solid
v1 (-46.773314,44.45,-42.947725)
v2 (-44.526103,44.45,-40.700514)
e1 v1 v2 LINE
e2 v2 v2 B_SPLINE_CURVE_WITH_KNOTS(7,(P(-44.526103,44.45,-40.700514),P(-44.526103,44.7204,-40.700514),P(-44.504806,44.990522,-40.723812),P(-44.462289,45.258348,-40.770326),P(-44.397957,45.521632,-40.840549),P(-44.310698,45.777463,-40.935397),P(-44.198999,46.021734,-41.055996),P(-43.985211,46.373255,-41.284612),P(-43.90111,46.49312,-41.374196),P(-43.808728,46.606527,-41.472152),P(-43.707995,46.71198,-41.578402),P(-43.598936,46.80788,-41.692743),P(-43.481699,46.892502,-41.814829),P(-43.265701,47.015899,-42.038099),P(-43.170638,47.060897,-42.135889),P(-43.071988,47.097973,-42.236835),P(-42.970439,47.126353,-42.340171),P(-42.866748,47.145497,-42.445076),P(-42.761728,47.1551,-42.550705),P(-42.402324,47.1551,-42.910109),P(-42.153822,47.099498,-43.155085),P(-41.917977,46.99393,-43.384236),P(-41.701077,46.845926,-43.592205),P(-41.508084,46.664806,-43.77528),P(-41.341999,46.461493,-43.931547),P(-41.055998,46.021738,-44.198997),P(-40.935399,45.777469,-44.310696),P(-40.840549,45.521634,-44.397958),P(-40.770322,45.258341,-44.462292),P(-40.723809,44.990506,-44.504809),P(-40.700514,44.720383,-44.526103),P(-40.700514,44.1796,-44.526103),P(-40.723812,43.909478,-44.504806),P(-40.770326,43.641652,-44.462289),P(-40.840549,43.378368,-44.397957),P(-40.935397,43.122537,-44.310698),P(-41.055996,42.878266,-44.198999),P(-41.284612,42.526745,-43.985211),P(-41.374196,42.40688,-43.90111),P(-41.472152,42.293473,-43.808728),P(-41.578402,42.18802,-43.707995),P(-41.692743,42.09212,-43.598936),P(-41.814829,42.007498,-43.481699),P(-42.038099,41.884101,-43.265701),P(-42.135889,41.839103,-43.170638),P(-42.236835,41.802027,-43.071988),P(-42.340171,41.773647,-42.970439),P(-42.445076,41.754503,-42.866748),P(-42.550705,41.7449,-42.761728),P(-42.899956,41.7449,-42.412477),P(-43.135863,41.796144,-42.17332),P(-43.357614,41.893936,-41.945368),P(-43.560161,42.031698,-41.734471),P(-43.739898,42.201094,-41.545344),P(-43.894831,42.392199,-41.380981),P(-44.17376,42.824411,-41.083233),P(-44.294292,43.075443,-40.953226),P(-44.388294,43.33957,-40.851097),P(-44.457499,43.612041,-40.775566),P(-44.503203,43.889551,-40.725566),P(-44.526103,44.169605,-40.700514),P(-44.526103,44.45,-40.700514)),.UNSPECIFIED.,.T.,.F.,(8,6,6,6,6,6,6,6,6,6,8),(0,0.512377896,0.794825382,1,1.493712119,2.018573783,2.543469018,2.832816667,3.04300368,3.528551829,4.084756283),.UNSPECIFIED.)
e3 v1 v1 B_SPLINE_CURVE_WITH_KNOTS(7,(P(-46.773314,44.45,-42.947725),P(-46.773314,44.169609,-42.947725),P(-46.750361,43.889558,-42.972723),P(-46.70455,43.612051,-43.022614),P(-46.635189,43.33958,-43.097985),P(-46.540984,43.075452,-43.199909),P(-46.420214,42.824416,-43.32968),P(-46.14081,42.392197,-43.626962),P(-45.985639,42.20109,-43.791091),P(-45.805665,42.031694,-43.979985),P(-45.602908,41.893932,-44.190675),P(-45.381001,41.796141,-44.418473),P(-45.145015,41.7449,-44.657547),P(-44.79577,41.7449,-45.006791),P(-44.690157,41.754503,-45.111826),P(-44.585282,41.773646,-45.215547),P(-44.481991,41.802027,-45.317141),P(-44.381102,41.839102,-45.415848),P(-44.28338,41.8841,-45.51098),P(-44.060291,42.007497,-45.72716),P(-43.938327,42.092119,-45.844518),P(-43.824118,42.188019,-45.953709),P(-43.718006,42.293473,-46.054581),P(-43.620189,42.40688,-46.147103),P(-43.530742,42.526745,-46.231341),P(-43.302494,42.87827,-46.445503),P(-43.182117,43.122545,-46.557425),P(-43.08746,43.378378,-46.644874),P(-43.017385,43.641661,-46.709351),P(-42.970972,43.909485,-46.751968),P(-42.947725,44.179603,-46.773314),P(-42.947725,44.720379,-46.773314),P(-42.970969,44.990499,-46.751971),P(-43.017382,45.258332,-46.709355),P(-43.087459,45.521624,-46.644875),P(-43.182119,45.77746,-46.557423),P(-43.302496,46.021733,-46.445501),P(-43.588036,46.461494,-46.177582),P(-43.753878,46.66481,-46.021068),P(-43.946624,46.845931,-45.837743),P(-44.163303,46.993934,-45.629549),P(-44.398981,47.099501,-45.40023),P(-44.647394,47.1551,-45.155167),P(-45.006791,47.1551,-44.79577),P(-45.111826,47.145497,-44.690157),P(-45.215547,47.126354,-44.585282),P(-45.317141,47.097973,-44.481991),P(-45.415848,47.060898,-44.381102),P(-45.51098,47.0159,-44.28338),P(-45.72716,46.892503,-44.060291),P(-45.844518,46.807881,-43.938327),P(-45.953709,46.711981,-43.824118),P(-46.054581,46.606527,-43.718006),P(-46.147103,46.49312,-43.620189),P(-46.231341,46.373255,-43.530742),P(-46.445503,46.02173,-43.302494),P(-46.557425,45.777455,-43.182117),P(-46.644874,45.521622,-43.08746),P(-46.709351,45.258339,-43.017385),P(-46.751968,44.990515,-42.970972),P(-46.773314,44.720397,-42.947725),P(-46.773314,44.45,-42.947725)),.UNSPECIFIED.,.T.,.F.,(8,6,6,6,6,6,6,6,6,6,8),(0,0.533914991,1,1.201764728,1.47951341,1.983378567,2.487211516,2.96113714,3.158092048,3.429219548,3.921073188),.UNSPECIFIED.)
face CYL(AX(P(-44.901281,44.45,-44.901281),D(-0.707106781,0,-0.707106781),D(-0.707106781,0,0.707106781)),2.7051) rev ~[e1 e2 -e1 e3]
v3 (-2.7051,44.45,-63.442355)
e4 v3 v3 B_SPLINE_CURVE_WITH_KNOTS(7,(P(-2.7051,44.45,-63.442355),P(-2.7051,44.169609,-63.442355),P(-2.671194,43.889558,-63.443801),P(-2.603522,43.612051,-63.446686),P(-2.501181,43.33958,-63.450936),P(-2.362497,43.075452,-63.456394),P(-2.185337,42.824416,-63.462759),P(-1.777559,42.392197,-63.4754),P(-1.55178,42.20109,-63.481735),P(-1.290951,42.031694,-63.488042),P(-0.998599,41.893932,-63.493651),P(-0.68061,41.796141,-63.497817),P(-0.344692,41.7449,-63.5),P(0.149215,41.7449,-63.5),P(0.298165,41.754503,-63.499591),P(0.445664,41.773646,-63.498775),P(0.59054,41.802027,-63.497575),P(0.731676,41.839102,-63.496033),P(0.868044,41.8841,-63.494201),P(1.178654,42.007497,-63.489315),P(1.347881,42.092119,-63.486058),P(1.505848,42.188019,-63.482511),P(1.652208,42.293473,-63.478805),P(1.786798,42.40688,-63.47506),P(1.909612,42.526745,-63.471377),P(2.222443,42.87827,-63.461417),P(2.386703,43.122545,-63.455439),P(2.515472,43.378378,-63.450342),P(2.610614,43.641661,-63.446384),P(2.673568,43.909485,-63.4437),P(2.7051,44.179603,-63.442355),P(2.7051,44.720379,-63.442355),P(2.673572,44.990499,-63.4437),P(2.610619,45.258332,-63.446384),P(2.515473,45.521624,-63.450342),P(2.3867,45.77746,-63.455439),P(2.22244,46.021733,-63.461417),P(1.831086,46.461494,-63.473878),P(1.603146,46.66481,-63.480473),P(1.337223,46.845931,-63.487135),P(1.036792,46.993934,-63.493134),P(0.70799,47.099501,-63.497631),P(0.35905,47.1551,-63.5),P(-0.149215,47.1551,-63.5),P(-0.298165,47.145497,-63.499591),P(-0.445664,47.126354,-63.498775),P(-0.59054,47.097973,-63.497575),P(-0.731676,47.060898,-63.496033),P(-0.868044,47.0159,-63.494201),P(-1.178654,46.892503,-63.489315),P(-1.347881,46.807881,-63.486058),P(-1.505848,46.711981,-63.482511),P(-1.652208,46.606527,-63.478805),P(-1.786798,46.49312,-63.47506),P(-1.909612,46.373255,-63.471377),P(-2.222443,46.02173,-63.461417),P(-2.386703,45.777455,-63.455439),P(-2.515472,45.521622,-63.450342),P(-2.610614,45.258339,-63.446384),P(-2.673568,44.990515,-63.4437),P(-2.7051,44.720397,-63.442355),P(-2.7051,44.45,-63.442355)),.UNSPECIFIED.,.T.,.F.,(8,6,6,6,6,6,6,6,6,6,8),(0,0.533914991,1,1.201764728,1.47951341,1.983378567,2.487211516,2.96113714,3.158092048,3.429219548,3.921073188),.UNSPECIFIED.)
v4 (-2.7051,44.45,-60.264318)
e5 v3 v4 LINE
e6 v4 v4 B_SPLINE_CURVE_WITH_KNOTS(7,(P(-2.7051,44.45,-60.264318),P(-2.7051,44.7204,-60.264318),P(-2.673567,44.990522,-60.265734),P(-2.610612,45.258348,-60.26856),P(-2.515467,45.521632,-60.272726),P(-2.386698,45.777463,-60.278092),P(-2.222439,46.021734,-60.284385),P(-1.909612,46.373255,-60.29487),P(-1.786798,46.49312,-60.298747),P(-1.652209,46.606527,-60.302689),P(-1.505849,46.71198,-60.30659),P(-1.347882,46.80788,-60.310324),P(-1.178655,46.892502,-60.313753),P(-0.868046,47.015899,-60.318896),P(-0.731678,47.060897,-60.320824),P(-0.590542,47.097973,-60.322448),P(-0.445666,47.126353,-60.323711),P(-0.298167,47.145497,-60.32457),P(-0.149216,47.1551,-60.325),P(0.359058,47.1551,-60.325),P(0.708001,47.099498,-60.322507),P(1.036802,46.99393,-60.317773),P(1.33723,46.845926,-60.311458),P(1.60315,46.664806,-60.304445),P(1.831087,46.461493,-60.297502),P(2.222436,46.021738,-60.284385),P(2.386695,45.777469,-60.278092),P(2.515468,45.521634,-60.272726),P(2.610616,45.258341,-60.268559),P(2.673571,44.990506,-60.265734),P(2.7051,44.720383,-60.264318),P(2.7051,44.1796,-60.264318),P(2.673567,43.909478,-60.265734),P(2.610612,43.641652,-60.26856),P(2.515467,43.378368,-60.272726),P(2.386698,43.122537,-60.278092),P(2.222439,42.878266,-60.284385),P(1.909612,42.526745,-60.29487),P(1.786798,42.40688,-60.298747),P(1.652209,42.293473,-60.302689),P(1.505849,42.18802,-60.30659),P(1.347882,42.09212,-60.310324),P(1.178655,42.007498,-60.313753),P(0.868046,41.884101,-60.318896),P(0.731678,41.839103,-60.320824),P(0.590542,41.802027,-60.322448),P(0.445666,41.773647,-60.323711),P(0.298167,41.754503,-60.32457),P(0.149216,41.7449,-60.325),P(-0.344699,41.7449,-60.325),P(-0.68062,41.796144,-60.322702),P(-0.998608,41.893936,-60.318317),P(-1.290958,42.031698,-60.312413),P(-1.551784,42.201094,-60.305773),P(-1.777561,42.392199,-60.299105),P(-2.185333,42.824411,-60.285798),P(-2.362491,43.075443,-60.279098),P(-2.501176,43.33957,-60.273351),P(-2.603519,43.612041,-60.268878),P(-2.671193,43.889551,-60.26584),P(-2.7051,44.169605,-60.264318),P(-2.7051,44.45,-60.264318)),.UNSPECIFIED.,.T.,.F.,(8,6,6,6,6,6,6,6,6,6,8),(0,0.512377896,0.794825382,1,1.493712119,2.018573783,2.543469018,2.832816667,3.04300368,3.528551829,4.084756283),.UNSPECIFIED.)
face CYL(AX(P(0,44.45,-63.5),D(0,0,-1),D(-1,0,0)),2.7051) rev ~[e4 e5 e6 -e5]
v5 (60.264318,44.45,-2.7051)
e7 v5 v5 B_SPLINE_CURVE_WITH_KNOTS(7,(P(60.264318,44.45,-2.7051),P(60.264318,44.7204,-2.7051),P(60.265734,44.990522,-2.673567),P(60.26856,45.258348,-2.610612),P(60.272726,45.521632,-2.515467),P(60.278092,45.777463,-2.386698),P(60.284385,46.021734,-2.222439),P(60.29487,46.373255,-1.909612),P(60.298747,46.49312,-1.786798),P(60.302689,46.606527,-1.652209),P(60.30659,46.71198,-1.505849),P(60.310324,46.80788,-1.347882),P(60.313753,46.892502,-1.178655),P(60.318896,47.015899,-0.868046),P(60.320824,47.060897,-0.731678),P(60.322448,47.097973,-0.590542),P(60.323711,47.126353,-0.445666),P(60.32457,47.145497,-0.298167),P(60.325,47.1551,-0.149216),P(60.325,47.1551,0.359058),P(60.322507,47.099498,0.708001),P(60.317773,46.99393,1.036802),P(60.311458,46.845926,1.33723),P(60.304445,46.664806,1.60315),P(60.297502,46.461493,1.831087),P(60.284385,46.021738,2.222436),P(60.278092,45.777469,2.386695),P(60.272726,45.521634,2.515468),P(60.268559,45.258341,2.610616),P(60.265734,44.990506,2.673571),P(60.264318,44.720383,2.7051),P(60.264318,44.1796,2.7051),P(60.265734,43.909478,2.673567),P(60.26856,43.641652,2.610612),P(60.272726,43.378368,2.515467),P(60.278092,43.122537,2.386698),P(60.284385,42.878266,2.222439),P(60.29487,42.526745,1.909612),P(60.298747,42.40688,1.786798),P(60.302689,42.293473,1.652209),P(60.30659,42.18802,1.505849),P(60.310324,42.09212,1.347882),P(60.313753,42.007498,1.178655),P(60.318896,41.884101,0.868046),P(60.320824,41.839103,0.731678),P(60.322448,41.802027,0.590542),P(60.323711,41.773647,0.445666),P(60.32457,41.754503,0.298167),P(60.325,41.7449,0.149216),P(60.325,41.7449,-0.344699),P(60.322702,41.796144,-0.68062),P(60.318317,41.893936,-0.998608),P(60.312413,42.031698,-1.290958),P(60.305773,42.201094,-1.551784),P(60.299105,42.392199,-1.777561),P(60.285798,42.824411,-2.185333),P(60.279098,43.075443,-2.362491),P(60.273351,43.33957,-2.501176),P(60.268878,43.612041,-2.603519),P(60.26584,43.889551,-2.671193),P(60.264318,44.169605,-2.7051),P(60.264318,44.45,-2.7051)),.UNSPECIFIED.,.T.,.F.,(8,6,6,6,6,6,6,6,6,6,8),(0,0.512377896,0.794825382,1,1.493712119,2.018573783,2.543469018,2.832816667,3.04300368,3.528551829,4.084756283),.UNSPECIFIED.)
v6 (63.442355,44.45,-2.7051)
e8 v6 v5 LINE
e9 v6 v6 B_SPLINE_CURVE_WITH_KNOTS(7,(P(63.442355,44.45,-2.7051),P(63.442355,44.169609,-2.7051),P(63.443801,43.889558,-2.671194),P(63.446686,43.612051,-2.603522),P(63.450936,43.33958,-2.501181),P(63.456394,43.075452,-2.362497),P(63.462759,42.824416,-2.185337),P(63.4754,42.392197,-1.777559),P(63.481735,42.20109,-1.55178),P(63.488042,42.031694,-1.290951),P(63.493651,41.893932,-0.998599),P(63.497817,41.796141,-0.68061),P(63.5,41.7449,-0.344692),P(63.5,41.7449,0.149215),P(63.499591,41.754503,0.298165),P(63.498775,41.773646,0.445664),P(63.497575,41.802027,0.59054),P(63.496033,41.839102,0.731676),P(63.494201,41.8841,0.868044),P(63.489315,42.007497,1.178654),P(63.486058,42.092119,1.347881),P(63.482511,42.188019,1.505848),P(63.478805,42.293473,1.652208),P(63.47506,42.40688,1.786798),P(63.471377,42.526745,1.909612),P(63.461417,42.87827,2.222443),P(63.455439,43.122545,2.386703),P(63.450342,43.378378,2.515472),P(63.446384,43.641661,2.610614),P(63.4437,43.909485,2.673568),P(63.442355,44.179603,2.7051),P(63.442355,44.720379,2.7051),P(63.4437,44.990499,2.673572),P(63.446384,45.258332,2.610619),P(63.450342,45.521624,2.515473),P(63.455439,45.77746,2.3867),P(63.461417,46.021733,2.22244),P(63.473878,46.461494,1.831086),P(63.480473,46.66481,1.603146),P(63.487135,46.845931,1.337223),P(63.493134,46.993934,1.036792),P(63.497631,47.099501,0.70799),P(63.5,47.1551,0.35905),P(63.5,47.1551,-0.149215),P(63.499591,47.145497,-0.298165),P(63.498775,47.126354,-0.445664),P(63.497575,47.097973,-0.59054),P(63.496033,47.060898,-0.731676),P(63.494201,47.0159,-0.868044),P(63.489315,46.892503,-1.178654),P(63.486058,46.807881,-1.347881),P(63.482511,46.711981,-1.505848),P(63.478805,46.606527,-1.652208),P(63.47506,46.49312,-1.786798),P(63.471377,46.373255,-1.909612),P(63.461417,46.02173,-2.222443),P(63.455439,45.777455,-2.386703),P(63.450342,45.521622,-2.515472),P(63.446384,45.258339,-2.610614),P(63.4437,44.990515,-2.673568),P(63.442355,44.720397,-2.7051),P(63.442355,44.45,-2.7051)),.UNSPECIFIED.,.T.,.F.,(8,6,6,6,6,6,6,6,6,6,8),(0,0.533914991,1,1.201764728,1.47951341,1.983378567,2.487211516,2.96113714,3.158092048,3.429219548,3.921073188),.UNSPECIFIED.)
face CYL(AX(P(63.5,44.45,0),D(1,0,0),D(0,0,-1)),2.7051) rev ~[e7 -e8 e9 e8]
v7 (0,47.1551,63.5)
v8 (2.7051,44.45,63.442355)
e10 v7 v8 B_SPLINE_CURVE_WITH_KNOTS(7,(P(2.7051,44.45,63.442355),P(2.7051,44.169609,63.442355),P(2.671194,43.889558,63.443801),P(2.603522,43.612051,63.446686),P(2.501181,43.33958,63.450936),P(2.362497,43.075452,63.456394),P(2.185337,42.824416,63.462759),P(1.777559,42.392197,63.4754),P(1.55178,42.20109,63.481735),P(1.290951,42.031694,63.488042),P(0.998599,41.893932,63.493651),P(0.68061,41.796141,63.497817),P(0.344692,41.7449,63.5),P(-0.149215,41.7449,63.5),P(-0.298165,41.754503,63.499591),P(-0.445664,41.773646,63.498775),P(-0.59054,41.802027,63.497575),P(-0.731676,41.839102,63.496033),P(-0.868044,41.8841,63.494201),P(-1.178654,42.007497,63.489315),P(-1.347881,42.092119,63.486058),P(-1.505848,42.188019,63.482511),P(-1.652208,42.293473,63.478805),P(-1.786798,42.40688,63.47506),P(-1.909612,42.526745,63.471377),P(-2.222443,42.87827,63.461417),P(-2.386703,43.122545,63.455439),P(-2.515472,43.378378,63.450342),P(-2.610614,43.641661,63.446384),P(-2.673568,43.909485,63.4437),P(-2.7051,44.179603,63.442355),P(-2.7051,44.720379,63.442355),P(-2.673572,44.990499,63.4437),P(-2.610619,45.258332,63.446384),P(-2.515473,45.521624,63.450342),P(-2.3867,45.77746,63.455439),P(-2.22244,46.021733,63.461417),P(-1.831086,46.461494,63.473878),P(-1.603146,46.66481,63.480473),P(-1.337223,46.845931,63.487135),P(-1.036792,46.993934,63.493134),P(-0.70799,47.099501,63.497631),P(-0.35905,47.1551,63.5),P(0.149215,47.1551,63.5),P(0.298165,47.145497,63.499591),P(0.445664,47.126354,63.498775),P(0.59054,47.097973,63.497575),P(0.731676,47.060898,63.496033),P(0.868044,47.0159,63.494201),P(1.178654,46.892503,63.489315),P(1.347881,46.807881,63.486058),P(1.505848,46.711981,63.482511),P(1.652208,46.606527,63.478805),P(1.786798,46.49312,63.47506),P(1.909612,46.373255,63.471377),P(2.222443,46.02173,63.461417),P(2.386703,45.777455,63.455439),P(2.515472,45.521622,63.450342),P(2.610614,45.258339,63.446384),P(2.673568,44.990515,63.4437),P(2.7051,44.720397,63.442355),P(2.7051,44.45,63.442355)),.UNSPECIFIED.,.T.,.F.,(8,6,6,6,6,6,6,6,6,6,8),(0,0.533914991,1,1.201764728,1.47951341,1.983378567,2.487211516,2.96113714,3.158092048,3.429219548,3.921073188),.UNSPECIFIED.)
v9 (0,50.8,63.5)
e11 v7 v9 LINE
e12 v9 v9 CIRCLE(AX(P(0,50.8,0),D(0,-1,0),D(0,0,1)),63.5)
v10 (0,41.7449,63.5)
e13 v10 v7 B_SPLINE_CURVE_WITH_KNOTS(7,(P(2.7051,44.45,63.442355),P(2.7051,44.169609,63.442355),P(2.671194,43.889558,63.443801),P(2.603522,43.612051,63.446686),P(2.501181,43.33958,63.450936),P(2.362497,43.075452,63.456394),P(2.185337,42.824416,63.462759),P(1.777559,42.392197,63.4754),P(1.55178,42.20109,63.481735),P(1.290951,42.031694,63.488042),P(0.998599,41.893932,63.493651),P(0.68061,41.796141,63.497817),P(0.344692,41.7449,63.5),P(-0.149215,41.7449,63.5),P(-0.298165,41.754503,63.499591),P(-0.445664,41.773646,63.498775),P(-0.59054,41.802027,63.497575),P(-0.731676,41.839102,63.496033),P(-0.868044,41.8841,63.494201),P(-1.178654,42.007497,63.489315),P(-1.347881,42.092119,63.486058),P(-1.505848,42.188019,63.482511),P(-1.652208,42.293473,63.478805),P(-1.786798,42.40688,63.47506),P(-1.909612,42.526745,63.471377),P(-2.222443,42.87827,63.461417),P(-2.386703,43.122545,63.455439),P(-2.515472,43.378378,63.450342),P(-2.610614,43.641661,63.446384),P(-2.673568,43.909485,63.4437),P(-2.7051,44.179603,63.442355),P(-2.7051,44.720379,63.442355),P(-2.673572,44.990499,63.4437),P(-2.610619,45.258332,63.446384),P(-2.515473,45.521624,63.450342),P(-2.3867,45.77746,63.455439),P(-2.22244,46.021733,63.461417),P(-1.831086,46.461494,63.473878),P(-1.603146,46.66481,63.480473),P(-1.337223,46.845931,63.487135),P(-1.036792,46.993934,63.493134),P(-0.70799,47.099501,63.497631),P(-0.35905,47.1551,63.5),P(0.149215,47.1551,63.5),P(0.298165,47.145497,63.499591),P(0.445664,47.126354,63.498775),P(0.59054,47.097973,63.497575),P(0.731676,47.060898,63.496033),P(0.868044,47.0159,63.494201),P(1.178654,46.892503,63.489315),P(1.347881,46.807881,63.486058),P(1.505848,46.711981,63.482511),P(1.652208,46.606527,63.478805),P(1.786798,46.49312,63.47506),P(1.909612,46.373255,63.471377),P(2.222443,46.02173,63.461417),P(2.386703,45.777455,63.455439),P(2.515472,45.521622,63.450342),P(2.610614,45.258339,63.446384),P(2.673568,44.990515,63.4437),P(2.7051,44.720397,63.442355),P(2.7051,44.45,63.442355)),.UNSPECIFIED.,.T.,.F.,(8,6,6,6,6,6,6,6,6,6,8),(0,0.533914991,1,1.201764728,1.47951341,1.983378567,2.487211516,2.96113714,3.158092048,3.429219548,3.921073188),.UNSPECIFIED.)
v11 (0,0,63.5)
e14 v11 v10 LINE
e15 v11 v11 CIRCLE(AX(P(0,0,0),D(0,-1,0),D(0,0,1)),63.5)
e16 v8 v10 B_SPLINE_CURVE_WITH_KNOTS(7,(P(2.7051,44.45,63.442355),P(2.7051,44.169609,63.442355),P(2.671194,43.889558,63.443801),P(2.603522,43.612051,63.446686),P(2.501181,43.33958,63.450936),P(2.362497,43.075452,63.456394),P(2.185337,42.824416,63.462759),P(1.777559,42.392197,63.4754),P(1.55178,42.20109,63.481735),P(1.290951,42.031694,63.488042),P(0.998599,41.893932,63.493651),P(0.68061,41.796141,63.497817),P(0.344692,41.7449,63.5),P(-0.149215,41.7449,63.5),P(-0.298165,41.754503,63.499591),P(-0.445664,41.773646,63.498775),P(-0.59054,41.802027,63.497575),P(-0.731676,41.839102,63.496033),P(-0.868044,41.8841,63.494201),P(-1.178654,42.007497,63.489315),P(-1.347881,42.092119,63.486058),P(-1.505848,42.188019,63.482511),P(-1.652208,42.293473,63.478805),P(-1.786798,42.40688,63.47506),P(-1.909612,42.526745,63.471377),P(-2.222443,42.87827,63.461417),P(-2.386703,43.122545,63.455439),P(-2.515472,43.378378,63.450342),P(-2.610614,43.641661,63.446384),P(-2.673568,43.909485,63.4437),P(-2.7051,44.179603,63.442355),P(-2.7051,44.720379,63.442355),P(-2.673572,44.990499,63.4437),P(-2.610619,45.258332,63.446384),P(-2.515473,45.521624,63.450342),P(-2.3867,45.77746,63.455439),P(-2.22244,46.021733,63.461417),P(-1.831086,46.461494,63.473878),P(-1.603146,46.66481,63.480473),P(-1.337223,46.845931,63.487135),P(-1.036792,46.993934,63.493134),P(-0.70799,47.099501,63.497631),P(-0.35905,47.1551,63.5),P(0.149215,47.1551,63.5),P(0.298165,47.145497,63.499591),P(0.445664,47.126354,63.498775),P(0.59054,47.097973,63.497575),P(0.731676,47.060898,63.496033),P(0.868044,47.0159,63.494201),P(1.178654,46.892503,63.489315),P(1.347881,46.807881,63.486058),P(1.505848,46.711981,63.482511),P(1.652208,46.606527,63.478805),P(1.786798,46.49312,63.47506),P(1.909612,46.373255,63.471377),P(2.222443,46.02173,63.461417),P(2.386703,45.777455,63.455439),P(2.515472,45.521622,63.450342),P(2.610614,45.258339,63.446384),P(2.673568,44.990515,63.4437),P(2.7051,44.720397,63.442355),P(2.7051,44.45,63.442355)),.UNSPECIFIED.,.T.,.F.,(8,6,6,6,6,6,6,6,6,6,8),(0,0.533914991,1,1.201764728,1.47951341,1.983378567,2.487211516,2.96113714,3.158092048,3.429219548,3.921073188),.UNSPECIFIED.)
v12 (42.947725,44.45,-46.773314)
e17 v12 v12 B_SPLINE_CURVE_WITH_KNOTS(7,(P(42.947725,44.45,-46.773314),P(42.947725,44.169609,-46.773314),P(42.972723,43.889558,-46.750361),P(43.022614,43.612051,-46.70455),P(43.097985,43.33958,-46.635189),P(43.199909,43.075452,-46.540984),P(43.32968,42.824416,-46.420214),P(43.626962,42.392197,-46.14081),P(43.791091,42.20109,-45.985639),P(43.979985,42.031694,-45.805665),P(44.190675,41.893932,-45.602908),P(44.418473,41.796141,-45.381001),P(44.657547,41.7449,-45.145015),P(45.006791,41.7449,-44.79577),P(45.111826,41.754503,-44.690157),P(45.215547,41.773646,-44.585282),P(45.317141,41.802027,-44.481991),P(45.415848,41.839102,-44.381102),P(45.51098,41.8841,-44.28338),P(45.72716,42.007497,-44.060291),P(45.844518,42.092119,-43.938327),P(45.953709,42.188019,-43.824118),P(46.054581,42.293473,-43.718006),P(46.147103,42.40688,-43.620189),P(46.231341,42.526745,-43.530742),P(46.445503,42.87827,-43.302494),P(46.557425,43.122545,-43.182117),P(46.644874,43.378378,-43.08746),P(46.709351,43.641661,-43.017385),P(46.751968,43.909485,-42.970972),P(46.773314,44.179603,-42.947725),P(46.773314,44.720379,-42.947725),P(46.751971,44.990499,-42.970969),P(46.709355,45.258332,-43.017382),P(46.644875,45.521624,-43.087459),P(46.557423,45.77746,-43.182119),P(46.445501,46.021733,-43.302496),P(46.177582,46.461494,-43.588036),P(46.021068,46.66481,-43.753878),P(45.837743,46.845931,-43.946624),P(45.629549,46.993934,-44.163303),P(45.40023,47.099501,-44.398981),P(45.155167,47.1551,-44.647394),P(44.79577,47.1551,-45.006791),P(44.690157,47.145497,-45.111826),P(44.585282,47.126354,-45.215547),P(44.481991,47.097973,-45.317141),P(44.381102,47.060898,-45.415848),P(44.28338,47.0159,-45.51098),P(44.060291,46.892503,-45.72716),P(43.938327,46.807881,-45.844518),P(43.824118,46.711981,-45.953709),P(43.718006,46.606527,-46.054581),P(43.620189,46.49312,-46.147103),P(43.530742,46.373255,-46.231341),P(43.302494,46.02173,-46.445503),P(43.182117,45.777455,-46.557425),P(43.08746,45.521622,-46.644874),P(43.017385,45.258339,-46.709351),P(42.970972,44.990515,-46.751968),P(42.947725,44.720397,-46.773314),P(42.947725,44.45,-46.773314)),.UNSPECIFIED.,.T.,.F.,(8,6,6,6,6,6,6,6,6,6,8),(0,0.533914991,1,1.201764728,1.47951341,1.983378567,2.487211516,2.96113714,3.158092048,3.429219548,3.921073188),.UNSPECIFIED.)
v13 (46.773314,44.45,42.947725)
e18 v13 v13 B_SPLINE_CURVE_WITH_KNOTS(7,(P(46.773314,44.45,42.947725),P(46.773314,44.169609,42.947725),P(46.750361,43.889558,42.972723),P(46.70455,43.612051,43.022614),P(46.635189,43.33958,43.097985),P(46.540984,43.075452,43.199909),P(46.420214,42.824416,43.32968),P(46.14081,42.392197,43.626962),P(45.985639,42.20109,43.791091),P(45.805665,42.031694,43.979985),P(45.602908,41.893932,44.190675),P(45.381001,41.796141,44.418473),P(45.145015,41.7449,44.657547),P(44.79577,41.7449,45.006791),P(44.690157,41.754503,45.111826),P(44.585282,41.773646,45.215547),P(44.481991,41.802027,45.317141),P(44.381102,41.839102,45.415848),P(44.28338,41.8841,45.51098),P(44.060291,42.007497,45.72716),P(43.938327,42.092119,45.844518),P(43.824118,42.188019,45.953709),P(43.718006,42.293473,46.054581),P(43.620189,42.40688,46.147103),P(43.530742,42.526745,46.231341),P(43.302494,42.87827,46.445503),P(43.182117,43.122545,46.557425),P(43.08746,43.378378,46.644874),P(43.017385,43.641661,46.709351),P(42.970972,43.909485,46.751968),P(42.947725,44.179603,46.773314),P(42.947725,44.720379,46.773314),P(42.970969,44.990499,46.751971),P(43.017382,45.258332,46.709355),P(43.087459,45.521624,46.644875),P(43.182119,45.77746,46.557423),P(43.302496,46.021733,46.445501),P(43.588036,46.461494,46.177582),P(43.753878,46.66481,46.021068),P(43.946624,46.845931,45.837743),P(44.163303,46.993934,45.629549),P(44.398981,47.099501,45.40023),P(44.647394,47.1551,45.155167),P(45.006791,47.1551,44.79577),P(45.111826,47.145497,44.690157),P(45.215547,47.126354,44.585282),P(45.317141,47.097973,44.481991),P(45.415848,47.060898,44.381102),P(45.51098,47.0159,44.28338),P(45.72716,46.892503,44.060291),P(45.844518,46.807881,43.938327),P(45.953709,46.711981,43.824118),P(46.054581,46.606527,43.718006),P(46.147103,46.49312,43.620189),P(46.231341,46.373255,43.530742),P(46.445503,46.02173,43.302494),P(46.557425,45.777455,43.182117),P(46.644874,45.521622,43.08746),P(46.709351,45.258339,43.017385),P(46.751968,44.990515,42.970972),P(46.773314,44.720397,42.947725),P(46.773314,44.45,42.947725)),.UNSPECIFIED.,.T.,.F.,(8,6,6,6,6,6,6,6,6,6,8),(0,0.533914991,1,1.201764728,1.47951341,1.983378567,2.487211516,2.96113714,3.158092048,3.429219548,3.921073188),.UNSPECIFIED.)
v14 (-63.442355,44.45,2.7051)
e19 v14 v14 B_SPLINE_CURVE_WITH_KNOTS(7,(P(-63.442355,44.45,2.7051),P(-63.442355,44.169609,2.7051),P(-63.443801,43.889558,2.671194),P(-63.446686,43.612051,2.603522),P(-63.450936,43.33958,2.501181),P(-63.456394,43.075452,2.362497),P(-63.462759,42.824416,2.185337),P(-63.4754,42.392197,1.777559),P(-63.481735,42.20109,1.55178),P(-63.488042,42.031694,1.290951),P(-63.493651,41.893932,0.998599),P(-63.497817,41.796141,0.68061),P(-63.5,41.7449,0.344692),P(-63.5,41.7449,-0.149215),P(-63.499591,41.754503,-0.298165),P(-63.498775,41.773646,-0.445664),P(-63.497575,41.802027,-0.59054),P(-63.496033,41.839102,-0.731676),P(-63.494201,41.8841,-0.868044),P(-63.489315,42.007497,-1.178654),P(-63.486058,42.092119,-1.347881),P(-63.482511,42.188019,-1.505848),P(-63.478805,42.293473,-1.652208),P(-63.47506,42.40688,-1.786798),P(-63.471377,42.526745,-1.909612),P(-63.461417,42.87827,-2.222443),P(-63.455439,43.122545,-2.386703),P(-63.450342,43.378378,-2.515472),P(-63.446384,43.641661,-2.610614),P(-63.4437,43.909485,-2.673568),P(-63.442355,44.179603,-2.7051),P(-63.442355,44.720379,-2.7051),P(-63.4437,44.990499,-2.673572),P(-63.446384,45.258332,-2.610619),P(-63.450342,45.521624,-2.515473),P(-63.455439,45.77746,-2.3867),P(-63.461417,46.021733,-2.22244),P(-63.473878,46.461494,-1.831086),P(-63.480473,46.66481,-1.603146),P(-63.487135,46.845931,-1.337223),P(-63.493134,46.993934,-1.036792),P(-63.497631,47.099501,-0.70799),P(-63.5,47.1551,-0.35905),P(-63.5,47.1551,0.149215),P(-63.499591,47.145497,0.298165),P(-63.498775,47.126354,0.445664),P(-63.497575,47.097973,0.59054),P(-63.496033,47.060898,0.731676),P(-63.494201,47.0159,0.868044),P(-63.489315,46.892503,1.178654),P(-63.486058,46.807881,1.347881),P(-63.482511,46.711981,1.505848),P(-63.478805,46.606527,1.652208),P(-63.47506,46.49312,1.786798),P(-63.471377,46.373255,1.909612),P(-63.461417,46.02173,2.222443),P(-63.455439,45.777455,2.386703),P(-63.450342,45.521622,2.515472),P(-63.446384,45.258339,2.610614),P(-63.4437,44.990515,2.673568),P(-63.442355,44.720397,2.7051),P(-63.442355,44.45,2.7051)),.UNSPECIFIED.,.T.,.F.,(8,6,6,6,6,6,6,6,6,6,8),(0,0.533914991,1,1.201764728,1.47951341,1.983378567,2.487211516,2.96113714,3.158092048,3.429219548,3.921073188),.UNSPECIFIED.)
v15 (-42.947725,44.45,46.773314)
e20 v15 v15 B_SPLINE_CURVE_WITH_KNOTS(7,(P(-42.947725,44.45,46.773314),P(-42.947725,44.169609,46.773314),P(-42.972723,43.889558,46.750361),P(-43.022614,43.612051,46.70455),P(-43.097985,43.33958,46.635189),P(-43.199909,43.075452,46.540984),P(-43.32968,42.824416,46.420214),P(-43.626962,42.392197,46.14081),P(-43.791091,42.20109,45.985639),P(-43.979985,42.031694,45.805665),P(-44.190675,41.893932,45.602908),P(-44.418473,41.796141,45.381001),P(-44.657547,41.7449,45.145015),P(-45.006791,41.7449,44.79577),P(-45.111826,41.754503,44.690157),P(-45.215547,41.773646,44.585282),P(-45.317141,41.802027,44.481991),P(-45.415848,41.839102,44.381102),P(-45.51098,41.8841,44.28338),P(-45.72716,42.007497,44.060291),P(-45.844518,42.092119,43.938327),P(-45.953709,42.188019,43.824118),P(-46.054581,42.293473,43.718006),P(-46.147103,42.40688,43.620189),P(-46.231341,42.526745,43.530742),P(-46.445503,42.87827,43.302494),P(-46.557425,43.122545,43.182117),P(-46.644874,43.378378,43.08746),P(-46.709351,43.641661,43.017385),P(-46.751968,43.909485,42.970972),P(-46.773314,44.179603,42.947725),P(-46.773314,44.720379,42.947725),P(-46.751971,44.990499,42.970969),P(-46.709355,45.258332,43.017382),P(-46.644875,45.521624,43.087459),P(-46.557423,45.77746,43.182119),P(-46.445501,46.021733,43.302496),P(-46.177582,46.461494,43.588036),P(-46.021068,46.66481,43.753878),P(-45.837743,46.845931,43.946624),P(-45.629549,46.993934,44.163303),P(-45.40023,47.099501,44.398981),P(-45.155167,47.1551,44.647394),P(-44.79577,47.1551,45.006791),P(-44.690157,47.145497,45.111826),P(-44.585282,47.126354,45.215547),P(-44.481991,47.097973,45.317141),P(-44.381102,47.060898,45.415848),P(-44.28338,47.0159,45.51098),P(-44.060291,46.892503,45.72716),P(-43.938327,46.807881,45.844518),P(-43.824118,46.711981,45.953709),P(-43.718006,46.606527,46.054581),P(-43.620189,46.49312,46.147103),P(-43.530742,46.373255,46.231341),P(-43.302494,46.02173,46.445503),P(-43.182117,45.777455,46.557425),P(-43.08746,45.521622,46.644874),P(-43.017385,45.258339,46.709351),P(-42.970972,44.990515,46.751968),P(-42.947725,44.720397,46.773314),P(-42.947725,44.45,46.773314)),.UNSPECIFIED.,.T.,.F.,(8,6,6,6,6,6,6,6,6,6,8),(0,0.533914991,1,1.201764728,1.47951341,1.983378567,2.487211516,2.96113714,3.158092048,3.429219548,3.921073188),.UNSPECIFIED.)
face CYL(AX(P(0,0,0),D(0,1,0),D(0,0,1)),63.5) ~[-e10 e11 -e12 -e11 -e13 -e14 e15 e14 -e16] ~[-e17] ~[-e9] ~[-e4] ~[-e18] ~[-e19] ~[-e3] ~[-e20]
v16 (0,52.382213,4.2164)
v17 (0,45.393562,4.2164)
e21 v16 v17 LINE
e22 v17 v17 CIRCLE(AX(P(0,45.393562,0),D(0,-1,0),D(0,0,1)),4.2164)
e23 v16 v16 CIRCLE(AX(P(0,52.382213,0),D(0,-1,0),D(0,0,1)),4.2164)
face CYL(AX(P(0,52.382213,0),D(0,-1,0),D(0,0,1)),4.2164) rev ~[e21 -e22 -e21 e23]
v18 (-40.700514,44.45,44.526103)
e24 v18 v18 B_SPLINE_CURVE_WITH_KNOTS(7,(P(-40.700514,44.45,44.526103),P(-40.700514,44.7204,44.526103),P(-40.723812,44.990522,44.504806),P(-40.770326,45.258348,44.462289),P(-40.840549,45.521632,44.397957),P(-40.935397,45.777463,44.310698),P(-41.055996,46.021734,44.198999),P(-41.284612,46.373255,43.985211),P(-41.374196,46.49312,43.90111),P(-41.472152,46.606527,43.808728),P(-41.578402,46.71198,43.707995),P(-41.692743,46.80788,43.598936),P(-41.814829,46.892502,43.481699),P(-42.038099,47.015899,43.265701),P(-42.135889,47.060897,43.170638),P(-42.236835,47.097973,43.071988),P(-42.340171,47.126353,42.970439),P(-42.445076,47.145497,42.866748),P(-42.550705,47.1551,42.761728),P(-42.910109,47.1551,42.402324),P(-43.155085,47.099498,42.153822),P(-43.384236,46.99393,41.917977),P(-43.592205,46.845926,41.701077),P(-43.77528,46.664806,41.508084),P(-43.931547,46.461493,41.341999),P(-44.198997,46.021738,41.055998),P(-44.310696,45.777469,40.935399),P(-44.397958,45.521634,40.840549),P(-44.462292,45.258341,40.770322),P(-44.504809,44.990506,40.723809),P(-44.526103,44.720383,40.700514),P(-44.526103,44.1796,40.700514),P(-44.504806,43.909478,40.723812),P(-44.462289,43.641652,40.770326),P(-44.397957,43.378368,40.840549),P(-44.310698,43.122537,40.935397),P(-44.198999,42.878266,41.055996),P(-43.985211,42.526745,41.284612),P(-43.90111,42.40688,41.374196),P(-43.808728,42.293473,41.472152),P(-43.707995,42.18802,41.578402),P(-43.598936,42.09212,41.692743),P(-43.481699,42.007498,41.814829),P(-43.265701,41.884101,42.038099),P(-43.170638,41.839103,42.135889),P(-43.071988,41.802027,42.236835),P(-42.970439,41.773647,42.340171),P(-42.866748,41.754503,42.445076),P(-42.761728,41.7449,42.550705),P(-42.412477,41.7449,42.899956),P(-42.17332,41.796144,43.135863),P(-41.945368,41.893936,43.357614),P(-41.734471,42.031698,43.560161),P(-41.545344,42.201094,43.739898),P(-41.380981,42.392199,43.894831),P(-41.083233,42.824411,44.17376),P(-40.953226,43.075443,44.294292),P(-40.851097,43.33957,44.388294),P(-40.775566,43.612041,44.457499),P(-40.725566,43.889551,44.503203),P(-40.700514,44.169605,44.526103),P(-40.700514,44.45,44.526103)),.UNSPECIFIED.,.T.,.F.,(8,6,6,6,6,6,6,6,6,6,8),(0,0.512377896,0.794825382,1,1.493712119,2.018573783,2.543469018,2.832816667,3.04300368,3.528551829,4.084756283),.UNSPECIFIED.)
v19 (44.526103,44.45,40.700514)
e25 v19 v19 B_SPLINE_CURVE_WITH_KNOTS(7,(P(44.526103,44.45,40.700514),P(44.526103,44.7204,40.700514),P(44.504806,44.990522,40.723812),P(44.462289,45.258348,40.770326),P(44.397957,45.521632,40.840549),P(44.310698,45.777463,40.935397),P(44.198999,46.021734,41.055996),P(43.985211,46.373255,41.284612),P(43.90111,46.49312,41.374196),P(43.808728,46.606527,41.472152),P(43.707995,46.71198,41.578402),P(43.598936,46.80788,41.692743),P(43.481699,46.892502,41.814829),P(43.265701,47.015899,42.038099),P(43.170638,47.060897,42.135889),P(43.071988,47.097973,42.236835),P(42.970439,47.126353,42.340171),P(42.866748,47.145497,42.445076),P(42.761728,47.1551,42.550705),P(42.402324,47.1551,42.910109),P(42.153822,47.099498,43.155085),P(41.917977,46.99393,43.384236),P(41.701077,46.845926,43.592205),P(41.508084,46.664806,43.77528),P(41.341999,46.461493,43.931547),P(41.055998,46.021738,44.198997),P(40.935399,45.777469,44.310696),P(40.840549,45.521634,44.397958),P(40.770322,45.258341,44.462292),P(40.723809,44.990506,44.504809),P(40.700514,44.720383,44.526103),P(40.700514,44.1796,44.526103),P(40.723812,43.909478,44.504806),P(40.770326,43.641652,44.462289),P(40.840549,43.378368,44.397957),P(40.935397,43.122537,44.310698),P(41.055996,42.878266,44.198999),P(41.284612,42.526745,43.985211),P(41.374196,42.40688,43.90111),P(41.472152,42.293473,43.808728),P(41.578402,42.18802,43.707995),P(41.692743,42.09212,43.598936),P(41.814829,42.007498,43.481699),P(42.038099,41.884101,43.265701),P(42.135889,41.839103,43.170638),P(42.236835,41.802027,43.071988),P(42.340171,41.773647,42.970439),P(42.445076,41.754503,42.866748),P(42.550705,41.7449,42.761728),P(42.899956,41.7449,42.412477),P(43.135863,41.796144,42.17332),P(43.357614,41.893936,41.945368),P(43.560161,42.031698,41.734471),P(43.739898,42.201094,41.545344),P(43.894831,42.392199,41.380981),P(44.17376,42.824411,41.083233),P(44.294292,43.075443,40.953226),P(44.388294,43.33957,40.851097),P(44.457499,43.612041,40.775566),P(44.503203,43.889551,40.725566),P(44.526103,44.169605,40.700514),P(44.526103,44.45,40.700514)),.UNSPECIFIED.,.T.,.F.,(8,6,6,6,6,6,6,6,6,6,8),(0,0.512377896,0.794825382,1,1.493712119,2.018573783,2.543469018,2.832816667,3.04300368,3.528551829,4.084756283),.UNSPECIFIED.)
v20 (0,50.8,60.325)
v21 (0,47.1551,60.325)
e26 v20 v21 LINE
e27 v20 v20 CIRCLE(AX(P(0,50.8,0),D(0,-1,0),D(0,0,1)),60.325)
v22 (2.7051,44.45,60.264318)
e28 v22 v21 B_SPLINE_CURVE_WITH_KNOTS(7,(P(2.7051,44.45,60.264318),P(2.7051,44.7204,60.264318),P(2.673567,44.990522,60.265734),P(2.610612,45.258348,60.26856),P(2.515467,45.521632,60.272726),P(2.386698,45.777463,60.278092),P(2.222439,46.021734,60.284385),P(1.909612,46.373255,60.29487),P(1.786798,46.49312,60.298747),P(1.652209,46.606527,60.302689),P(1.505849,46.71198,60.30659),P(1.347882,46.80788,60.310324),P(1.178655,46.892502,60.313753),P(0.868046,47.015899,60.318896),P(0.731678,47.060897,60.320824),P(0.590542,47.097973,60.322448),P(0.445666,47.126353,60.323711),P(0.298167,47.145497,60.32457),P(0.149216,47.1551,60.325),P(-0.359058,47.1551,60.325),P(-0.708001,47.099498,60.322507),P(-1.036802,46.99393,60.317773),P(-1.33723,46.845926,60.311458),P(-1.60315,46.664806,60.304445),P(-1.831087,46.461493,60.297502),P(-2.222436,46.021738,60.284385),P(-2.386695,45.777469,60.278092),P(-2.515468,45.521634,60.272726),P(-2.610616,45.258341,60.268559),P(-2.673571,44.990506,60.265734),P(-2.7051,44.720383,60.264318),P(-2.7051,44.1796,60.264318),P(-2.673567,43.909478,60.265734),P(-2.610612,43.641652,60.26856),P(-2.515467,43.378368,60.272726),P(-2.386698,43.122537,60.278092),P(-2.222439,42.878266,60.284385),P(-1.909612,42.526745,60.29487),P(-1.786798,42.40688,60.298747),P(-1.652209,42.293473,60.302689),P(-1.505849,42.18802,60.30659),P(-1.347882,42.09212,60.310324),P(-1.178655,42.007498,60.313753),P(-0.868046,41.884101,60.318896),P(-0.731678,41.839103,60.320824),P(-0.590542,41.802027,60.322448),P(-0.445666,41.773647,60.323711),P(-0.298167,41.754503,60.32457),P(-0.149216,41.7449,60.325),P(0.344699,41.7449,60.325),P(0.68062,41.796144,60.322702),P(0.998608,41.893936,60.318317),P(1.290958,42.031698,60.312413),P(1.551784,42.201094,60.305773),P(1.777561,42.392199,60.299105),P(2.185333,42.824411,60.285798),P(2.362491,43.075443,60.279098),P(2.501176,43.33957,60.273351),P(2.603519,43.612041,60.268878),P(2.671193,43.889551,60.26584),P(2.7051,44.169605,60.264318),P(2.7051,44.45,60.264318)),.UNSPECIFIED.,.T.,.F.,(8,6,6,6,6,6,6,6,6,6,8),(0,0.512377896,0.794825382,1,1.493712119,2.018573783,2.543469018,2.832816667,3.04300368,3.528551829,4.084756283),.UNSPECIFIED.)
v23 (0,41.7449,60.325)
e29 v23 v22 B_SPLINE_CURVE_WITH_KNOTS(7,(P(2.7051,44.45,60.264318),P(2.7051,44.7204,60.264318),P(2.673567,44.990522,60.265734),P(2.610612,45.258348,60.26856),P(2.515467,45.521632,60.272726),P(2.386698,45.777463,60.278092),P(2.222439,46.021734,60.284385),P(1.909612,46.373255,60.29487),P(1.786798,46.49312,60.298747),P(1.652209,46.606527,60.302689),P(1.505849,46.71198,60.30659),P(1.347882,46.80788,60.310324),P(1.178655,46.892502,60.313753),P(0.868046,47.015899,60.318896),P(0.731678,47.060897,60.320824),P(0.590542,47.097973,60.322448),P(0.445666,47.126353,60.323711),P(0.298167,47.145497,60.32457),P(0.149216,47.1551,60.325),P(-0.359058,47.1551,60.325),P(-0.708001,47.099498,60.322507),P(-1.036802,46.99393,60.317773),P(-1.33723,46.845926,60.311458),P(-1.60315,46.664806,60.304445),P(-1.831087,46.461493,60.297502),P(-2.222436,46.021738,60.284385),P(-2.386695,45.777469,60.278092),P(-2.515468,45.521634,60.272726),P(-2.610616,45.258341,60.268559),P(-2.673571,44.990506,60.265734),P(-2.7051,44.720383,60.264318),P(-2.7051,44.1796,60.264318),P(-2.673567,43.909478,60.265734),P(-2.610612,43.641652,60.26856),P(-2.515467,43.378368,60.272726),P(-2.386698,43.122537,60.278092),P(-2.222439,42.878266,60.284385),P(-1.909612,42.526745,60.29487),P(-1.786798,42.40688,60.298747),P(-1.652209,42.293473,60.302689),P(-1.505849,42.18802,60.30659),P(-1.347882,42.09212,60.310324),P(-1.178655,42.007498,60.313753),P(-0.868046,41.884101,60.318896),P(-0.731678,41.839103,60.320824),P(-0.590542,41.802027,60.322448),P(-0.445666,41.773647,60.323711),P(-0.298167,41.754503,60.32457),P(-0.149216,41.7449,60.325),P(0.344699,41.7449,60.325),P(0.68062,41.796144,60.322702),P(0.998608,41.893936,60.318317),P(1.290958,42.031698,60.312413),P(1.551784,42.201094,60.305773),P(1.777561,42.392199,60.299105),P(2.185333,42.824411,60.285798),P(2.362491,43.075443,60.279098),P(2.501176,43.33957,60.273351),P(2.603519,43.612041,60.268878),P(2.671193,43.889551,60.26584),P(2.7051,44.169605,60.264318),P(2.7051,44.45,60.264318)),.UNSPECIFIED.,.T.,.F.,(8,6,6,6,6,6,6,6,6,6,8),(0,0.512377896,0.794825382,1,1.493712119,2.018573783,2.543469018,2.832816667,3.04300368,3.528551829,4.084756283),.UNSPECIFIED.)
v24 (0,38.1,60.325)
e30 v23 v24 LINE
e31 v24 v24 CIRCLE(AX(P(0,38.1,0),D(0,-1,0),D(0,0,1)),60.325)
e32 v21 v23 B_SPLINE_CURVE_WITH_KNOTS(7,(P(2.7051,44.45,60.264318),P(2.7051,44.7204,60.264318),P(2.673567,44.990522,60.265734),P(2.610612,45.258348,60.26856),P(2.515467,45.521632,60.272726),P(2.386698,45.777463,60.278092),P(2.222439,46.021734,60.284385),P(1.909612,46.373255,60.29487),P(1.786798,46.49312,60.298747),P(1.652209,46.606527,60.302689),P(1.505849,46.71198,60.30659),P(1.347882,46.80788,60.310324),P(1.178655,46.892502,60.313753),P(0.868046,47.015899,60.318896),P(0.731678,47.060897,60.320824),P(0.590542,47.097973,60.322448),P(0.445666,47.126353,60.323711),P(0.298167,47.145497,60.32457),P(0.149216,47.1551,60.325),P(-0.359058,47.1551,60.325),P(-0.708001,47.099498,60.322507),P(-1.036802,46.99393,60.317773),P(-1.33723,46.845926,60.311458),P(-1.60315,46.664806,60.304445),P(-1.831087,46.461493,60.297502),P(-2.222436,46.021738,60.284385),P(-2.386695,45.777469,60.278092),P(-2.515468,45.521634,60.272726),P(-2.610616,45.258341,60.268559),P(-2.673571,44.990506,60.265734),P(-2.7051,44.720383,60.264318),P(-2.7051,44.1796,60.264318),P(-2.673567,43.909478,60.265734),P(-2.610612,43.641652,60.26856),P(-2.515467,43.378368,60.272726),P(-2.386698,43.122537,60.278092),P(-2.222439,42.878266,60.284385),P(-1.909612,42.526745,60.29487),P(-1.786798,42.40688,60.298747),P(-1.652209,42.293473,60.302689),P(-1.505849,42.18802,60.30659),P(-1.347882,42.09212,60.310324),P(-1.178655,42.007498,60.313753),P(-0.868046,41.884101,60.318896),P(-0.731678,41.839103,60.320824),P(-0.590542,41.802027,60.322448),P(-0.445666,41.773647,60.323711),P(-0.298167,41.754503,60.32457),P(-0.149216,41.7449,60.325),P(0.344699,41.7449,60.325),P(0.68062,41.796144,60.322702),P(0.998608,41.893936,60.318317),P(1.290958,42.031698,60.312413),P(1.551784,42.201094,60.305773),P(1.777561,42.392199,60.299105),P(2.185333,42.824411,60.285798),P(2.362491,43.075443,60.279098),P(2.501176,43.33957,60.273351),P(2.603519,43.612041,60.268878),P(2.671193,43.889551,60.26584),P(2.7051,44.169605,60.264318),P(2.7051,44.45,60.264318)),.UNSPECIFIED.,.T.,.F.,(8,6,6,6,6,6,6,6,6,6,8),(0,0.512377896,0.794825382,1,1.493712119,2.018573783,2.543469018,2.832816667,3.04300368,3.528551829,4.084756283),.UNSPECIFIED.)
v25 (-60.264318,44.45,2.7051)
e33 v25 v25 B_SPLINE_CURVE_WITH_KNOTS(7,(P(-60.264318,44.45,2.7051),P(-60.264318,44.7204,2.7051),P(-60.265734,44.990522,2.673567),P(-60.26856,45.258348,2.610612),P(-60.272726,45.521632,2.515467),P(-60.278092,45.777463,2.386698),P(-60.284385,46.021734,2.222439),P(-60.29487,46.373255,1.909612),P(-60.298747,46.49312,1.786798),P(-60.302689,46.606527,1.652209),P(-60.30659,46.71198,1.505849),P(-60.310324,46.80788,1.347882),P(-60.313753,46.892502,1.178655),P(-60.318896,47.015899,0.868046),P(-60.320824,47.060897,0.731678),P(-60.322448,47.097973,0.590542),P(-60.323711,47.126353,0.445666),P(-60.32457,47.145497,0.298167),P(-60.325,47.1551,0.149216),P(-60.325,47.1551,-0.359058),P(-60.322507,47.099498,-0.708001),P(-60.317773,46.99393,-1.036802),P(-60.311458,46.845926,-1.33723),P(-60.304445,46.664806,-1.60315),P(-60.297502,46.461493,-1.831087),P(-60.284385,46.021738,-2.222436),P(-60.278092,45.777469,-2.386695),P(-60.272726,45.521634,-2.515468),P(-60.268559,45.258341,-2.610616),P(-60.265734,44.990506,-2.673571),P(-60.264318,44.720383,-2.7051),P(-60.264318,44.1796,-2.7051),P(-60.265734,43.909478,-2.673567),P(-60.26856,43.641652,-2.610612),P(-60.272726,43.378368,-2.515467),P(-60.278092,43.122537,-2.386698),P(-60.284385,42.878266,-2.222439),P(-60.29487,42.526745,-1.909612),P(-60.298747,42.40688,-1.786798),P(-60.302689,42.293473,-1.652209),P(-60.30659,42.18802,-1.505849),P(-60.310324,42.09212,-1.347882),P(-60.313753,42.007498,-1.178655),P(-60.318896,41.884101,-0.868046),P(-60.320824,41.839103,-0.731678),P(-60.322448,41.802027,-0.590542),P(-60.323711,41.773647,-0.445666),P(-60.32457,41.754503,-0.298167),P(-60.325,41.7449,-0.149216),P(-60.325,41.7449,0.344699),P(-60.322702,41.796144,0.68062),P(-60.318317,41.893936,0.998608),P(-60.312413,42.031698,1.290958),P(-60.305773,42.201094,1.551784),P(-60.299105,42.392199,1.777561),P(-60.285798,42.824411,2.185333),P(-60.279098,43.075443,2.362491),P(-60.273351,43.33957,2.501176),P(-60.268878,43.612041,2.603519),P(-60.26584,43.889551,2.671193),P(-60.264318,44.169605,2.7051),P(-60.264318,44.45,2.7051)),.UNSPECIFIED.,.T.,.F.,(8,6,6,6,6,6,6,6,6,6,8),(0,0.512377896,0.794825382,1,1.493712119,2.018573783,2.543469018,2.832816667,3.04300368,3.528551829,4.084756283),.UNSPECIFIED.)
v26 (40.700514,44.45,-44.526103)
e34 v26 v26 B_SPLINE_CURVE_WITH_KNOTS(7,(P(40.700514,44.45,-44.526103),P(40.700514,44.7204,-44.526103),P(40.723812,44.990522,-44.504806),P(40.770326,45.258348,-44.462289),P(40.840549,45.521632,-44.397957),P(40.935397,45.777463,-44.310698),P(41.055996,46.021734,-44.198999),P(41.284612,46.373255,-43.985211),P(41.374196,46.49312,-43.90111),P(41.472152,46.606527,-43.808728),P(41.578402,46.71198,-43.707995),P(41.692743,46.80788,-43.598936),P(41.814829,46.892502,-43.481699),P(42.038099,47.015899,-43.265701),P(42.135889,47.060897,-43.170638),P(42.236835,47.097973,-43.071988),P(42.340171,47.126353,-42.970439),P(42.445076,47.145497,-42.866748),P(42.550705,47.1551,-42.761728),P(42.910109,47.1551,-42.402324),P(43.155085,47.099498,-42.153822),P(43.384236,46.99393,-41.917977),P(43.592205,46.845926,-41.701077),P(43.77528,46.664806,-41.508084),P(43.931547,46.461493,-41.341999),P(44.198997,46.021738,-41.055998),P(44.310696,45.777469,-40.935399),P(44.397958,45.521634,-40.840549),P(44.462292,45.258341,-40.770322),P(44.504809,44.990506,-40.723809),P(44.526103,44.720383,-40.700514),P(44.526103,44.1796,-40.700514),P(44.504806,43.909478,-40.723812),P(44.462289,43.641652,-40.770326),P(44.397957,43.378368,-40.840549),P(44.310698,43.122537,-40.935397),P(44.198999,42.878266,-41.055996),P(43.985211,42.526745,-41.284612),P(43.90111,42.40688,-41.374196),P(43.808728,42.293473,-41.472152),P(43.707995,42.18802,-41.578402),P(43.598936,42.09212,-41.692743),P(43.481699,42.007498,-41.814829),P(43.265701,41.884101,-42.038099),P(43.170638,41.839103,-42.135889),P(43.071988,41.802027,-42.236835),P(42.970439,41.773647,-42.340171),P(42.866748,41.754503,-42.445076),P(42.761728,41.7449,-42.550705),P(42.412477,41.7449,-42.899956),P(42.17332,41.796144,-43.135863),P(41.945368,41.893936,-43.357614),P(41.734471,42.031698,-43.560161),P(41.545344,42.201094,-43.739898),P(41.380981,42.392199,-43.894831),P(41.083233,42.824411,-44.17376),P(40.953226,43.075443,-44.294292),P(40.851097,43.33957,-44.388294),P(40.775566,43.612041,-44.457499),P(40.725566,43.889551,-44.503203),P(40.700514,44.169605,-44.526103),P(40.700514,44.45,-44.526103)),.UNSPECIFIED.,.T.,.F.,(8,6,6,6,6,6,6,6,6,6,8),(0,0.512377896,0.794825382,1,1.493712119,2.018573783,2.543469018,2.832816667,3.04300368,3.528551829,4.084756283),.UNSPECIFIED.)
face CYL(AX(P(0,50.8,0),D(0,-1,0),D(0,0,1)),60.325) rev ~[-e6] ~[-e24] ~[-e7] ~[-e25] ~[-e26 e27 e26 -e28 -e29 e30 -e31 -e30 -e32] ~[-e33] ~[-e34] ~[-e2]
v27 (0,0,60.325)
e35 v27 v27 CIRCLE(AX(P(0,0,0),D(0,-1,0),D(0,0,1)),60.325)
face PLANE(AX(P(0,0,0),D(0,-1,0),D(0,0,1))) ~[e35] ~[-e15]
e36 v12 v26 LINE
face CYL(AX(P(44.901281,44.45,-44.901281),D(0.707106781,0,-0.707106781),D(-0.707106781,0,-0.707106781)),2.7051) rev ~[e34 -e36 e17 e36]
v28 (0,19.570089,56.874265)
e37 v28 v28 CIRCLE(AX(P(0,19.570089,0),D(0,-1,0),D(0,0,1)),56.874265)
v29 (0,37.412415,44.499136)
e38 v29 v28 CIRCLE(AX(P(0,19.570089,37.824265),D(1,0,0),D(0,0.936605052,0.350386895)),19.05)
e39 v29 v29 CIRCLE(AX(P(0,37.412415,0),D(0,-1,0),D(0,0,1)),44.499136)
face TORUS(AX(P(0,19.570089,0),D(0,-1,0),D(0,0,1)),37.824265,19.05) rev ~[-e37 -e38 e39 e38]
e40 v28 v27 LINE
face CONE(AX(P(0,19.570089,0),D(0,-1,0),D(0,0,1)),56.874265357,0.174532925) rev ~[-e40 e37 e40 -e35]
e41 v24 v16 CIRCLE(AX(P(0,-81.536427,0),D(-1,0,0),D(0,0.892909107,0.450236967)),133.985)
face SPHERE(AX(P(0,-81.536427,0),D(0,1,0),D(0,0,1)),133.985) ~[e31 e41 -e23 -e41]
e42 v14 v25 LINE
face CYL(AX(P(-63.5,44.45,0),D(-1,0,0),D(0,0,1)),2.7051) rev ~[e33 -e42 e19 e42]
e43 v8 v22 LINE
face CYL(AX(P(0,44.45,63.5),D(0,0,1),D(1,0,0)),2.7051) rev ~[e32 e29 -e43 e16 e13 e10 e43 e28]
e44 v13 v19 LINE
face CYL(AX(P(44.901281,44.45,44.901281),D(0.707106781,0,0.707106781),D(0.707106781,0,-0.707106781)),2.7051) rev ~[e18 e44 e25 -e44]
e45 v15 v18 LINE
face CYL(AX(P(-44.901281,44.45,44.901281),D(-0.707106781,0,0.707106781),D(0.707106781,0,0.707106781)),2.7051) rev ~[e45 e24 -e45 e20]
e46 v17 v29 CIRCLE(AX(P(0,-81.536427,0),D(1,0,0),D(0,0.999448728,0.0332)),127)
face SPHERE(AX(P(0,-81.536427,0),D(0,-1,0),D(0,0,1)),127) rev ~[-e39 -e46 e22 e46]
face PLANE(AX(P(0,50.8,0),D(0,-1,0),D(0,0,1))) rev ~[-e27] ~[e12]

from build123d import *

# Parameters (mm, degrees)
F_3_0_213_DIAMETER_HOLE1_REACH  = 150.785
F_3_0_213_DIAMETER_HOLE1_BORE_R = 2.7051
CIRPATTERN1_COUNT               = 8


with BuildPart() as part:
    # Sketch1 → Revolve2 (revolve)
    with BuildSketch(Plane.XY, mode=Mode.PRIVATE) as revolve2_sk:
        with BuildLine():
            Line((-63.5, 0), (-63.5, 50.8))
            Line((-63.5, 50.8), (-60.325, 50.8))
            Line((-60.325, 50.8), (-60.325, 38.1))
            ThreePointArc((-60.325, 38.1), (-33.051376431, 48.308044626), (-4.2164, 52.382213484))
            Line((-4.2164, 52.382213484), (-4.2164, 45.393561735))
            ThreePointArc((-4.2164, 45.393561735), (-24.682494429, 43.041960117), (-44.499135715, 37.412414884))
            ThreePointArc((-44.499135715, 37.412414884), (-53.477680006, 30.42702697), (-56.874265357, 19.570088643))
            Line((-56.874265357, 19.570088643), (-60.325, 0))
            Line((-60.325, 0), (-63.5, 0))
        make_face()
    revolve(revolve2_sk.sketch.rotate(Axis((0, 127.060987048, 0), (0, -1, 0)), 270), axis=Axis((0, 127.060987048, 0), (0, -1, 0)))

    # #3 (0.213) Diameter Hole1 bore (on position points) → #3 (0.213) Diameter Hole1 (cut, up to next)
    with BuildSketch(Plane(origin=(0, 44.45, 63.5), x_dir=(1, 0, 0), z_dir=(0, 0, 1)), mode=Mode.PRIVATE) as f_3_0_213_diameter_hole1_sk1:
        Circle(F_3_0_213_DIAMETER_HOLE1_BORE_R)
    f_3_0_213_diameter_hole1_tool1 = extrude(f_3_0_213_diameter_hole1_sk1.sketch, amount=-F_3_0_213_DIAMETER_HOLE1_REACH, mode=Mode.PRIVATE) & part.part
    f_3_0_213_diameter_hole1 = f_3_0_213_diameter_hole1_tool1.solids().sort_by_distance((0, 44.45, 63.5))[0]
    add(f_3_0_213_diameter_hole1, mode=Mode.SUBTRACT)

    # CirPattern1: #3 (0.213) Diameter Hole1 ×8 about axis
    cirpattern1_axis = Axis((0, 127.060987048, 0), (0, -1, 0))
    for i in range(1, CIRPATTERN1_COUNT):
        add(f_3_0_213_diameter_hole1.rotate(cirpattern1_axis, i * 360 / CIRPATTERN1_COUNT), mode=Mode.SUBTRACT)


solid = part.part
